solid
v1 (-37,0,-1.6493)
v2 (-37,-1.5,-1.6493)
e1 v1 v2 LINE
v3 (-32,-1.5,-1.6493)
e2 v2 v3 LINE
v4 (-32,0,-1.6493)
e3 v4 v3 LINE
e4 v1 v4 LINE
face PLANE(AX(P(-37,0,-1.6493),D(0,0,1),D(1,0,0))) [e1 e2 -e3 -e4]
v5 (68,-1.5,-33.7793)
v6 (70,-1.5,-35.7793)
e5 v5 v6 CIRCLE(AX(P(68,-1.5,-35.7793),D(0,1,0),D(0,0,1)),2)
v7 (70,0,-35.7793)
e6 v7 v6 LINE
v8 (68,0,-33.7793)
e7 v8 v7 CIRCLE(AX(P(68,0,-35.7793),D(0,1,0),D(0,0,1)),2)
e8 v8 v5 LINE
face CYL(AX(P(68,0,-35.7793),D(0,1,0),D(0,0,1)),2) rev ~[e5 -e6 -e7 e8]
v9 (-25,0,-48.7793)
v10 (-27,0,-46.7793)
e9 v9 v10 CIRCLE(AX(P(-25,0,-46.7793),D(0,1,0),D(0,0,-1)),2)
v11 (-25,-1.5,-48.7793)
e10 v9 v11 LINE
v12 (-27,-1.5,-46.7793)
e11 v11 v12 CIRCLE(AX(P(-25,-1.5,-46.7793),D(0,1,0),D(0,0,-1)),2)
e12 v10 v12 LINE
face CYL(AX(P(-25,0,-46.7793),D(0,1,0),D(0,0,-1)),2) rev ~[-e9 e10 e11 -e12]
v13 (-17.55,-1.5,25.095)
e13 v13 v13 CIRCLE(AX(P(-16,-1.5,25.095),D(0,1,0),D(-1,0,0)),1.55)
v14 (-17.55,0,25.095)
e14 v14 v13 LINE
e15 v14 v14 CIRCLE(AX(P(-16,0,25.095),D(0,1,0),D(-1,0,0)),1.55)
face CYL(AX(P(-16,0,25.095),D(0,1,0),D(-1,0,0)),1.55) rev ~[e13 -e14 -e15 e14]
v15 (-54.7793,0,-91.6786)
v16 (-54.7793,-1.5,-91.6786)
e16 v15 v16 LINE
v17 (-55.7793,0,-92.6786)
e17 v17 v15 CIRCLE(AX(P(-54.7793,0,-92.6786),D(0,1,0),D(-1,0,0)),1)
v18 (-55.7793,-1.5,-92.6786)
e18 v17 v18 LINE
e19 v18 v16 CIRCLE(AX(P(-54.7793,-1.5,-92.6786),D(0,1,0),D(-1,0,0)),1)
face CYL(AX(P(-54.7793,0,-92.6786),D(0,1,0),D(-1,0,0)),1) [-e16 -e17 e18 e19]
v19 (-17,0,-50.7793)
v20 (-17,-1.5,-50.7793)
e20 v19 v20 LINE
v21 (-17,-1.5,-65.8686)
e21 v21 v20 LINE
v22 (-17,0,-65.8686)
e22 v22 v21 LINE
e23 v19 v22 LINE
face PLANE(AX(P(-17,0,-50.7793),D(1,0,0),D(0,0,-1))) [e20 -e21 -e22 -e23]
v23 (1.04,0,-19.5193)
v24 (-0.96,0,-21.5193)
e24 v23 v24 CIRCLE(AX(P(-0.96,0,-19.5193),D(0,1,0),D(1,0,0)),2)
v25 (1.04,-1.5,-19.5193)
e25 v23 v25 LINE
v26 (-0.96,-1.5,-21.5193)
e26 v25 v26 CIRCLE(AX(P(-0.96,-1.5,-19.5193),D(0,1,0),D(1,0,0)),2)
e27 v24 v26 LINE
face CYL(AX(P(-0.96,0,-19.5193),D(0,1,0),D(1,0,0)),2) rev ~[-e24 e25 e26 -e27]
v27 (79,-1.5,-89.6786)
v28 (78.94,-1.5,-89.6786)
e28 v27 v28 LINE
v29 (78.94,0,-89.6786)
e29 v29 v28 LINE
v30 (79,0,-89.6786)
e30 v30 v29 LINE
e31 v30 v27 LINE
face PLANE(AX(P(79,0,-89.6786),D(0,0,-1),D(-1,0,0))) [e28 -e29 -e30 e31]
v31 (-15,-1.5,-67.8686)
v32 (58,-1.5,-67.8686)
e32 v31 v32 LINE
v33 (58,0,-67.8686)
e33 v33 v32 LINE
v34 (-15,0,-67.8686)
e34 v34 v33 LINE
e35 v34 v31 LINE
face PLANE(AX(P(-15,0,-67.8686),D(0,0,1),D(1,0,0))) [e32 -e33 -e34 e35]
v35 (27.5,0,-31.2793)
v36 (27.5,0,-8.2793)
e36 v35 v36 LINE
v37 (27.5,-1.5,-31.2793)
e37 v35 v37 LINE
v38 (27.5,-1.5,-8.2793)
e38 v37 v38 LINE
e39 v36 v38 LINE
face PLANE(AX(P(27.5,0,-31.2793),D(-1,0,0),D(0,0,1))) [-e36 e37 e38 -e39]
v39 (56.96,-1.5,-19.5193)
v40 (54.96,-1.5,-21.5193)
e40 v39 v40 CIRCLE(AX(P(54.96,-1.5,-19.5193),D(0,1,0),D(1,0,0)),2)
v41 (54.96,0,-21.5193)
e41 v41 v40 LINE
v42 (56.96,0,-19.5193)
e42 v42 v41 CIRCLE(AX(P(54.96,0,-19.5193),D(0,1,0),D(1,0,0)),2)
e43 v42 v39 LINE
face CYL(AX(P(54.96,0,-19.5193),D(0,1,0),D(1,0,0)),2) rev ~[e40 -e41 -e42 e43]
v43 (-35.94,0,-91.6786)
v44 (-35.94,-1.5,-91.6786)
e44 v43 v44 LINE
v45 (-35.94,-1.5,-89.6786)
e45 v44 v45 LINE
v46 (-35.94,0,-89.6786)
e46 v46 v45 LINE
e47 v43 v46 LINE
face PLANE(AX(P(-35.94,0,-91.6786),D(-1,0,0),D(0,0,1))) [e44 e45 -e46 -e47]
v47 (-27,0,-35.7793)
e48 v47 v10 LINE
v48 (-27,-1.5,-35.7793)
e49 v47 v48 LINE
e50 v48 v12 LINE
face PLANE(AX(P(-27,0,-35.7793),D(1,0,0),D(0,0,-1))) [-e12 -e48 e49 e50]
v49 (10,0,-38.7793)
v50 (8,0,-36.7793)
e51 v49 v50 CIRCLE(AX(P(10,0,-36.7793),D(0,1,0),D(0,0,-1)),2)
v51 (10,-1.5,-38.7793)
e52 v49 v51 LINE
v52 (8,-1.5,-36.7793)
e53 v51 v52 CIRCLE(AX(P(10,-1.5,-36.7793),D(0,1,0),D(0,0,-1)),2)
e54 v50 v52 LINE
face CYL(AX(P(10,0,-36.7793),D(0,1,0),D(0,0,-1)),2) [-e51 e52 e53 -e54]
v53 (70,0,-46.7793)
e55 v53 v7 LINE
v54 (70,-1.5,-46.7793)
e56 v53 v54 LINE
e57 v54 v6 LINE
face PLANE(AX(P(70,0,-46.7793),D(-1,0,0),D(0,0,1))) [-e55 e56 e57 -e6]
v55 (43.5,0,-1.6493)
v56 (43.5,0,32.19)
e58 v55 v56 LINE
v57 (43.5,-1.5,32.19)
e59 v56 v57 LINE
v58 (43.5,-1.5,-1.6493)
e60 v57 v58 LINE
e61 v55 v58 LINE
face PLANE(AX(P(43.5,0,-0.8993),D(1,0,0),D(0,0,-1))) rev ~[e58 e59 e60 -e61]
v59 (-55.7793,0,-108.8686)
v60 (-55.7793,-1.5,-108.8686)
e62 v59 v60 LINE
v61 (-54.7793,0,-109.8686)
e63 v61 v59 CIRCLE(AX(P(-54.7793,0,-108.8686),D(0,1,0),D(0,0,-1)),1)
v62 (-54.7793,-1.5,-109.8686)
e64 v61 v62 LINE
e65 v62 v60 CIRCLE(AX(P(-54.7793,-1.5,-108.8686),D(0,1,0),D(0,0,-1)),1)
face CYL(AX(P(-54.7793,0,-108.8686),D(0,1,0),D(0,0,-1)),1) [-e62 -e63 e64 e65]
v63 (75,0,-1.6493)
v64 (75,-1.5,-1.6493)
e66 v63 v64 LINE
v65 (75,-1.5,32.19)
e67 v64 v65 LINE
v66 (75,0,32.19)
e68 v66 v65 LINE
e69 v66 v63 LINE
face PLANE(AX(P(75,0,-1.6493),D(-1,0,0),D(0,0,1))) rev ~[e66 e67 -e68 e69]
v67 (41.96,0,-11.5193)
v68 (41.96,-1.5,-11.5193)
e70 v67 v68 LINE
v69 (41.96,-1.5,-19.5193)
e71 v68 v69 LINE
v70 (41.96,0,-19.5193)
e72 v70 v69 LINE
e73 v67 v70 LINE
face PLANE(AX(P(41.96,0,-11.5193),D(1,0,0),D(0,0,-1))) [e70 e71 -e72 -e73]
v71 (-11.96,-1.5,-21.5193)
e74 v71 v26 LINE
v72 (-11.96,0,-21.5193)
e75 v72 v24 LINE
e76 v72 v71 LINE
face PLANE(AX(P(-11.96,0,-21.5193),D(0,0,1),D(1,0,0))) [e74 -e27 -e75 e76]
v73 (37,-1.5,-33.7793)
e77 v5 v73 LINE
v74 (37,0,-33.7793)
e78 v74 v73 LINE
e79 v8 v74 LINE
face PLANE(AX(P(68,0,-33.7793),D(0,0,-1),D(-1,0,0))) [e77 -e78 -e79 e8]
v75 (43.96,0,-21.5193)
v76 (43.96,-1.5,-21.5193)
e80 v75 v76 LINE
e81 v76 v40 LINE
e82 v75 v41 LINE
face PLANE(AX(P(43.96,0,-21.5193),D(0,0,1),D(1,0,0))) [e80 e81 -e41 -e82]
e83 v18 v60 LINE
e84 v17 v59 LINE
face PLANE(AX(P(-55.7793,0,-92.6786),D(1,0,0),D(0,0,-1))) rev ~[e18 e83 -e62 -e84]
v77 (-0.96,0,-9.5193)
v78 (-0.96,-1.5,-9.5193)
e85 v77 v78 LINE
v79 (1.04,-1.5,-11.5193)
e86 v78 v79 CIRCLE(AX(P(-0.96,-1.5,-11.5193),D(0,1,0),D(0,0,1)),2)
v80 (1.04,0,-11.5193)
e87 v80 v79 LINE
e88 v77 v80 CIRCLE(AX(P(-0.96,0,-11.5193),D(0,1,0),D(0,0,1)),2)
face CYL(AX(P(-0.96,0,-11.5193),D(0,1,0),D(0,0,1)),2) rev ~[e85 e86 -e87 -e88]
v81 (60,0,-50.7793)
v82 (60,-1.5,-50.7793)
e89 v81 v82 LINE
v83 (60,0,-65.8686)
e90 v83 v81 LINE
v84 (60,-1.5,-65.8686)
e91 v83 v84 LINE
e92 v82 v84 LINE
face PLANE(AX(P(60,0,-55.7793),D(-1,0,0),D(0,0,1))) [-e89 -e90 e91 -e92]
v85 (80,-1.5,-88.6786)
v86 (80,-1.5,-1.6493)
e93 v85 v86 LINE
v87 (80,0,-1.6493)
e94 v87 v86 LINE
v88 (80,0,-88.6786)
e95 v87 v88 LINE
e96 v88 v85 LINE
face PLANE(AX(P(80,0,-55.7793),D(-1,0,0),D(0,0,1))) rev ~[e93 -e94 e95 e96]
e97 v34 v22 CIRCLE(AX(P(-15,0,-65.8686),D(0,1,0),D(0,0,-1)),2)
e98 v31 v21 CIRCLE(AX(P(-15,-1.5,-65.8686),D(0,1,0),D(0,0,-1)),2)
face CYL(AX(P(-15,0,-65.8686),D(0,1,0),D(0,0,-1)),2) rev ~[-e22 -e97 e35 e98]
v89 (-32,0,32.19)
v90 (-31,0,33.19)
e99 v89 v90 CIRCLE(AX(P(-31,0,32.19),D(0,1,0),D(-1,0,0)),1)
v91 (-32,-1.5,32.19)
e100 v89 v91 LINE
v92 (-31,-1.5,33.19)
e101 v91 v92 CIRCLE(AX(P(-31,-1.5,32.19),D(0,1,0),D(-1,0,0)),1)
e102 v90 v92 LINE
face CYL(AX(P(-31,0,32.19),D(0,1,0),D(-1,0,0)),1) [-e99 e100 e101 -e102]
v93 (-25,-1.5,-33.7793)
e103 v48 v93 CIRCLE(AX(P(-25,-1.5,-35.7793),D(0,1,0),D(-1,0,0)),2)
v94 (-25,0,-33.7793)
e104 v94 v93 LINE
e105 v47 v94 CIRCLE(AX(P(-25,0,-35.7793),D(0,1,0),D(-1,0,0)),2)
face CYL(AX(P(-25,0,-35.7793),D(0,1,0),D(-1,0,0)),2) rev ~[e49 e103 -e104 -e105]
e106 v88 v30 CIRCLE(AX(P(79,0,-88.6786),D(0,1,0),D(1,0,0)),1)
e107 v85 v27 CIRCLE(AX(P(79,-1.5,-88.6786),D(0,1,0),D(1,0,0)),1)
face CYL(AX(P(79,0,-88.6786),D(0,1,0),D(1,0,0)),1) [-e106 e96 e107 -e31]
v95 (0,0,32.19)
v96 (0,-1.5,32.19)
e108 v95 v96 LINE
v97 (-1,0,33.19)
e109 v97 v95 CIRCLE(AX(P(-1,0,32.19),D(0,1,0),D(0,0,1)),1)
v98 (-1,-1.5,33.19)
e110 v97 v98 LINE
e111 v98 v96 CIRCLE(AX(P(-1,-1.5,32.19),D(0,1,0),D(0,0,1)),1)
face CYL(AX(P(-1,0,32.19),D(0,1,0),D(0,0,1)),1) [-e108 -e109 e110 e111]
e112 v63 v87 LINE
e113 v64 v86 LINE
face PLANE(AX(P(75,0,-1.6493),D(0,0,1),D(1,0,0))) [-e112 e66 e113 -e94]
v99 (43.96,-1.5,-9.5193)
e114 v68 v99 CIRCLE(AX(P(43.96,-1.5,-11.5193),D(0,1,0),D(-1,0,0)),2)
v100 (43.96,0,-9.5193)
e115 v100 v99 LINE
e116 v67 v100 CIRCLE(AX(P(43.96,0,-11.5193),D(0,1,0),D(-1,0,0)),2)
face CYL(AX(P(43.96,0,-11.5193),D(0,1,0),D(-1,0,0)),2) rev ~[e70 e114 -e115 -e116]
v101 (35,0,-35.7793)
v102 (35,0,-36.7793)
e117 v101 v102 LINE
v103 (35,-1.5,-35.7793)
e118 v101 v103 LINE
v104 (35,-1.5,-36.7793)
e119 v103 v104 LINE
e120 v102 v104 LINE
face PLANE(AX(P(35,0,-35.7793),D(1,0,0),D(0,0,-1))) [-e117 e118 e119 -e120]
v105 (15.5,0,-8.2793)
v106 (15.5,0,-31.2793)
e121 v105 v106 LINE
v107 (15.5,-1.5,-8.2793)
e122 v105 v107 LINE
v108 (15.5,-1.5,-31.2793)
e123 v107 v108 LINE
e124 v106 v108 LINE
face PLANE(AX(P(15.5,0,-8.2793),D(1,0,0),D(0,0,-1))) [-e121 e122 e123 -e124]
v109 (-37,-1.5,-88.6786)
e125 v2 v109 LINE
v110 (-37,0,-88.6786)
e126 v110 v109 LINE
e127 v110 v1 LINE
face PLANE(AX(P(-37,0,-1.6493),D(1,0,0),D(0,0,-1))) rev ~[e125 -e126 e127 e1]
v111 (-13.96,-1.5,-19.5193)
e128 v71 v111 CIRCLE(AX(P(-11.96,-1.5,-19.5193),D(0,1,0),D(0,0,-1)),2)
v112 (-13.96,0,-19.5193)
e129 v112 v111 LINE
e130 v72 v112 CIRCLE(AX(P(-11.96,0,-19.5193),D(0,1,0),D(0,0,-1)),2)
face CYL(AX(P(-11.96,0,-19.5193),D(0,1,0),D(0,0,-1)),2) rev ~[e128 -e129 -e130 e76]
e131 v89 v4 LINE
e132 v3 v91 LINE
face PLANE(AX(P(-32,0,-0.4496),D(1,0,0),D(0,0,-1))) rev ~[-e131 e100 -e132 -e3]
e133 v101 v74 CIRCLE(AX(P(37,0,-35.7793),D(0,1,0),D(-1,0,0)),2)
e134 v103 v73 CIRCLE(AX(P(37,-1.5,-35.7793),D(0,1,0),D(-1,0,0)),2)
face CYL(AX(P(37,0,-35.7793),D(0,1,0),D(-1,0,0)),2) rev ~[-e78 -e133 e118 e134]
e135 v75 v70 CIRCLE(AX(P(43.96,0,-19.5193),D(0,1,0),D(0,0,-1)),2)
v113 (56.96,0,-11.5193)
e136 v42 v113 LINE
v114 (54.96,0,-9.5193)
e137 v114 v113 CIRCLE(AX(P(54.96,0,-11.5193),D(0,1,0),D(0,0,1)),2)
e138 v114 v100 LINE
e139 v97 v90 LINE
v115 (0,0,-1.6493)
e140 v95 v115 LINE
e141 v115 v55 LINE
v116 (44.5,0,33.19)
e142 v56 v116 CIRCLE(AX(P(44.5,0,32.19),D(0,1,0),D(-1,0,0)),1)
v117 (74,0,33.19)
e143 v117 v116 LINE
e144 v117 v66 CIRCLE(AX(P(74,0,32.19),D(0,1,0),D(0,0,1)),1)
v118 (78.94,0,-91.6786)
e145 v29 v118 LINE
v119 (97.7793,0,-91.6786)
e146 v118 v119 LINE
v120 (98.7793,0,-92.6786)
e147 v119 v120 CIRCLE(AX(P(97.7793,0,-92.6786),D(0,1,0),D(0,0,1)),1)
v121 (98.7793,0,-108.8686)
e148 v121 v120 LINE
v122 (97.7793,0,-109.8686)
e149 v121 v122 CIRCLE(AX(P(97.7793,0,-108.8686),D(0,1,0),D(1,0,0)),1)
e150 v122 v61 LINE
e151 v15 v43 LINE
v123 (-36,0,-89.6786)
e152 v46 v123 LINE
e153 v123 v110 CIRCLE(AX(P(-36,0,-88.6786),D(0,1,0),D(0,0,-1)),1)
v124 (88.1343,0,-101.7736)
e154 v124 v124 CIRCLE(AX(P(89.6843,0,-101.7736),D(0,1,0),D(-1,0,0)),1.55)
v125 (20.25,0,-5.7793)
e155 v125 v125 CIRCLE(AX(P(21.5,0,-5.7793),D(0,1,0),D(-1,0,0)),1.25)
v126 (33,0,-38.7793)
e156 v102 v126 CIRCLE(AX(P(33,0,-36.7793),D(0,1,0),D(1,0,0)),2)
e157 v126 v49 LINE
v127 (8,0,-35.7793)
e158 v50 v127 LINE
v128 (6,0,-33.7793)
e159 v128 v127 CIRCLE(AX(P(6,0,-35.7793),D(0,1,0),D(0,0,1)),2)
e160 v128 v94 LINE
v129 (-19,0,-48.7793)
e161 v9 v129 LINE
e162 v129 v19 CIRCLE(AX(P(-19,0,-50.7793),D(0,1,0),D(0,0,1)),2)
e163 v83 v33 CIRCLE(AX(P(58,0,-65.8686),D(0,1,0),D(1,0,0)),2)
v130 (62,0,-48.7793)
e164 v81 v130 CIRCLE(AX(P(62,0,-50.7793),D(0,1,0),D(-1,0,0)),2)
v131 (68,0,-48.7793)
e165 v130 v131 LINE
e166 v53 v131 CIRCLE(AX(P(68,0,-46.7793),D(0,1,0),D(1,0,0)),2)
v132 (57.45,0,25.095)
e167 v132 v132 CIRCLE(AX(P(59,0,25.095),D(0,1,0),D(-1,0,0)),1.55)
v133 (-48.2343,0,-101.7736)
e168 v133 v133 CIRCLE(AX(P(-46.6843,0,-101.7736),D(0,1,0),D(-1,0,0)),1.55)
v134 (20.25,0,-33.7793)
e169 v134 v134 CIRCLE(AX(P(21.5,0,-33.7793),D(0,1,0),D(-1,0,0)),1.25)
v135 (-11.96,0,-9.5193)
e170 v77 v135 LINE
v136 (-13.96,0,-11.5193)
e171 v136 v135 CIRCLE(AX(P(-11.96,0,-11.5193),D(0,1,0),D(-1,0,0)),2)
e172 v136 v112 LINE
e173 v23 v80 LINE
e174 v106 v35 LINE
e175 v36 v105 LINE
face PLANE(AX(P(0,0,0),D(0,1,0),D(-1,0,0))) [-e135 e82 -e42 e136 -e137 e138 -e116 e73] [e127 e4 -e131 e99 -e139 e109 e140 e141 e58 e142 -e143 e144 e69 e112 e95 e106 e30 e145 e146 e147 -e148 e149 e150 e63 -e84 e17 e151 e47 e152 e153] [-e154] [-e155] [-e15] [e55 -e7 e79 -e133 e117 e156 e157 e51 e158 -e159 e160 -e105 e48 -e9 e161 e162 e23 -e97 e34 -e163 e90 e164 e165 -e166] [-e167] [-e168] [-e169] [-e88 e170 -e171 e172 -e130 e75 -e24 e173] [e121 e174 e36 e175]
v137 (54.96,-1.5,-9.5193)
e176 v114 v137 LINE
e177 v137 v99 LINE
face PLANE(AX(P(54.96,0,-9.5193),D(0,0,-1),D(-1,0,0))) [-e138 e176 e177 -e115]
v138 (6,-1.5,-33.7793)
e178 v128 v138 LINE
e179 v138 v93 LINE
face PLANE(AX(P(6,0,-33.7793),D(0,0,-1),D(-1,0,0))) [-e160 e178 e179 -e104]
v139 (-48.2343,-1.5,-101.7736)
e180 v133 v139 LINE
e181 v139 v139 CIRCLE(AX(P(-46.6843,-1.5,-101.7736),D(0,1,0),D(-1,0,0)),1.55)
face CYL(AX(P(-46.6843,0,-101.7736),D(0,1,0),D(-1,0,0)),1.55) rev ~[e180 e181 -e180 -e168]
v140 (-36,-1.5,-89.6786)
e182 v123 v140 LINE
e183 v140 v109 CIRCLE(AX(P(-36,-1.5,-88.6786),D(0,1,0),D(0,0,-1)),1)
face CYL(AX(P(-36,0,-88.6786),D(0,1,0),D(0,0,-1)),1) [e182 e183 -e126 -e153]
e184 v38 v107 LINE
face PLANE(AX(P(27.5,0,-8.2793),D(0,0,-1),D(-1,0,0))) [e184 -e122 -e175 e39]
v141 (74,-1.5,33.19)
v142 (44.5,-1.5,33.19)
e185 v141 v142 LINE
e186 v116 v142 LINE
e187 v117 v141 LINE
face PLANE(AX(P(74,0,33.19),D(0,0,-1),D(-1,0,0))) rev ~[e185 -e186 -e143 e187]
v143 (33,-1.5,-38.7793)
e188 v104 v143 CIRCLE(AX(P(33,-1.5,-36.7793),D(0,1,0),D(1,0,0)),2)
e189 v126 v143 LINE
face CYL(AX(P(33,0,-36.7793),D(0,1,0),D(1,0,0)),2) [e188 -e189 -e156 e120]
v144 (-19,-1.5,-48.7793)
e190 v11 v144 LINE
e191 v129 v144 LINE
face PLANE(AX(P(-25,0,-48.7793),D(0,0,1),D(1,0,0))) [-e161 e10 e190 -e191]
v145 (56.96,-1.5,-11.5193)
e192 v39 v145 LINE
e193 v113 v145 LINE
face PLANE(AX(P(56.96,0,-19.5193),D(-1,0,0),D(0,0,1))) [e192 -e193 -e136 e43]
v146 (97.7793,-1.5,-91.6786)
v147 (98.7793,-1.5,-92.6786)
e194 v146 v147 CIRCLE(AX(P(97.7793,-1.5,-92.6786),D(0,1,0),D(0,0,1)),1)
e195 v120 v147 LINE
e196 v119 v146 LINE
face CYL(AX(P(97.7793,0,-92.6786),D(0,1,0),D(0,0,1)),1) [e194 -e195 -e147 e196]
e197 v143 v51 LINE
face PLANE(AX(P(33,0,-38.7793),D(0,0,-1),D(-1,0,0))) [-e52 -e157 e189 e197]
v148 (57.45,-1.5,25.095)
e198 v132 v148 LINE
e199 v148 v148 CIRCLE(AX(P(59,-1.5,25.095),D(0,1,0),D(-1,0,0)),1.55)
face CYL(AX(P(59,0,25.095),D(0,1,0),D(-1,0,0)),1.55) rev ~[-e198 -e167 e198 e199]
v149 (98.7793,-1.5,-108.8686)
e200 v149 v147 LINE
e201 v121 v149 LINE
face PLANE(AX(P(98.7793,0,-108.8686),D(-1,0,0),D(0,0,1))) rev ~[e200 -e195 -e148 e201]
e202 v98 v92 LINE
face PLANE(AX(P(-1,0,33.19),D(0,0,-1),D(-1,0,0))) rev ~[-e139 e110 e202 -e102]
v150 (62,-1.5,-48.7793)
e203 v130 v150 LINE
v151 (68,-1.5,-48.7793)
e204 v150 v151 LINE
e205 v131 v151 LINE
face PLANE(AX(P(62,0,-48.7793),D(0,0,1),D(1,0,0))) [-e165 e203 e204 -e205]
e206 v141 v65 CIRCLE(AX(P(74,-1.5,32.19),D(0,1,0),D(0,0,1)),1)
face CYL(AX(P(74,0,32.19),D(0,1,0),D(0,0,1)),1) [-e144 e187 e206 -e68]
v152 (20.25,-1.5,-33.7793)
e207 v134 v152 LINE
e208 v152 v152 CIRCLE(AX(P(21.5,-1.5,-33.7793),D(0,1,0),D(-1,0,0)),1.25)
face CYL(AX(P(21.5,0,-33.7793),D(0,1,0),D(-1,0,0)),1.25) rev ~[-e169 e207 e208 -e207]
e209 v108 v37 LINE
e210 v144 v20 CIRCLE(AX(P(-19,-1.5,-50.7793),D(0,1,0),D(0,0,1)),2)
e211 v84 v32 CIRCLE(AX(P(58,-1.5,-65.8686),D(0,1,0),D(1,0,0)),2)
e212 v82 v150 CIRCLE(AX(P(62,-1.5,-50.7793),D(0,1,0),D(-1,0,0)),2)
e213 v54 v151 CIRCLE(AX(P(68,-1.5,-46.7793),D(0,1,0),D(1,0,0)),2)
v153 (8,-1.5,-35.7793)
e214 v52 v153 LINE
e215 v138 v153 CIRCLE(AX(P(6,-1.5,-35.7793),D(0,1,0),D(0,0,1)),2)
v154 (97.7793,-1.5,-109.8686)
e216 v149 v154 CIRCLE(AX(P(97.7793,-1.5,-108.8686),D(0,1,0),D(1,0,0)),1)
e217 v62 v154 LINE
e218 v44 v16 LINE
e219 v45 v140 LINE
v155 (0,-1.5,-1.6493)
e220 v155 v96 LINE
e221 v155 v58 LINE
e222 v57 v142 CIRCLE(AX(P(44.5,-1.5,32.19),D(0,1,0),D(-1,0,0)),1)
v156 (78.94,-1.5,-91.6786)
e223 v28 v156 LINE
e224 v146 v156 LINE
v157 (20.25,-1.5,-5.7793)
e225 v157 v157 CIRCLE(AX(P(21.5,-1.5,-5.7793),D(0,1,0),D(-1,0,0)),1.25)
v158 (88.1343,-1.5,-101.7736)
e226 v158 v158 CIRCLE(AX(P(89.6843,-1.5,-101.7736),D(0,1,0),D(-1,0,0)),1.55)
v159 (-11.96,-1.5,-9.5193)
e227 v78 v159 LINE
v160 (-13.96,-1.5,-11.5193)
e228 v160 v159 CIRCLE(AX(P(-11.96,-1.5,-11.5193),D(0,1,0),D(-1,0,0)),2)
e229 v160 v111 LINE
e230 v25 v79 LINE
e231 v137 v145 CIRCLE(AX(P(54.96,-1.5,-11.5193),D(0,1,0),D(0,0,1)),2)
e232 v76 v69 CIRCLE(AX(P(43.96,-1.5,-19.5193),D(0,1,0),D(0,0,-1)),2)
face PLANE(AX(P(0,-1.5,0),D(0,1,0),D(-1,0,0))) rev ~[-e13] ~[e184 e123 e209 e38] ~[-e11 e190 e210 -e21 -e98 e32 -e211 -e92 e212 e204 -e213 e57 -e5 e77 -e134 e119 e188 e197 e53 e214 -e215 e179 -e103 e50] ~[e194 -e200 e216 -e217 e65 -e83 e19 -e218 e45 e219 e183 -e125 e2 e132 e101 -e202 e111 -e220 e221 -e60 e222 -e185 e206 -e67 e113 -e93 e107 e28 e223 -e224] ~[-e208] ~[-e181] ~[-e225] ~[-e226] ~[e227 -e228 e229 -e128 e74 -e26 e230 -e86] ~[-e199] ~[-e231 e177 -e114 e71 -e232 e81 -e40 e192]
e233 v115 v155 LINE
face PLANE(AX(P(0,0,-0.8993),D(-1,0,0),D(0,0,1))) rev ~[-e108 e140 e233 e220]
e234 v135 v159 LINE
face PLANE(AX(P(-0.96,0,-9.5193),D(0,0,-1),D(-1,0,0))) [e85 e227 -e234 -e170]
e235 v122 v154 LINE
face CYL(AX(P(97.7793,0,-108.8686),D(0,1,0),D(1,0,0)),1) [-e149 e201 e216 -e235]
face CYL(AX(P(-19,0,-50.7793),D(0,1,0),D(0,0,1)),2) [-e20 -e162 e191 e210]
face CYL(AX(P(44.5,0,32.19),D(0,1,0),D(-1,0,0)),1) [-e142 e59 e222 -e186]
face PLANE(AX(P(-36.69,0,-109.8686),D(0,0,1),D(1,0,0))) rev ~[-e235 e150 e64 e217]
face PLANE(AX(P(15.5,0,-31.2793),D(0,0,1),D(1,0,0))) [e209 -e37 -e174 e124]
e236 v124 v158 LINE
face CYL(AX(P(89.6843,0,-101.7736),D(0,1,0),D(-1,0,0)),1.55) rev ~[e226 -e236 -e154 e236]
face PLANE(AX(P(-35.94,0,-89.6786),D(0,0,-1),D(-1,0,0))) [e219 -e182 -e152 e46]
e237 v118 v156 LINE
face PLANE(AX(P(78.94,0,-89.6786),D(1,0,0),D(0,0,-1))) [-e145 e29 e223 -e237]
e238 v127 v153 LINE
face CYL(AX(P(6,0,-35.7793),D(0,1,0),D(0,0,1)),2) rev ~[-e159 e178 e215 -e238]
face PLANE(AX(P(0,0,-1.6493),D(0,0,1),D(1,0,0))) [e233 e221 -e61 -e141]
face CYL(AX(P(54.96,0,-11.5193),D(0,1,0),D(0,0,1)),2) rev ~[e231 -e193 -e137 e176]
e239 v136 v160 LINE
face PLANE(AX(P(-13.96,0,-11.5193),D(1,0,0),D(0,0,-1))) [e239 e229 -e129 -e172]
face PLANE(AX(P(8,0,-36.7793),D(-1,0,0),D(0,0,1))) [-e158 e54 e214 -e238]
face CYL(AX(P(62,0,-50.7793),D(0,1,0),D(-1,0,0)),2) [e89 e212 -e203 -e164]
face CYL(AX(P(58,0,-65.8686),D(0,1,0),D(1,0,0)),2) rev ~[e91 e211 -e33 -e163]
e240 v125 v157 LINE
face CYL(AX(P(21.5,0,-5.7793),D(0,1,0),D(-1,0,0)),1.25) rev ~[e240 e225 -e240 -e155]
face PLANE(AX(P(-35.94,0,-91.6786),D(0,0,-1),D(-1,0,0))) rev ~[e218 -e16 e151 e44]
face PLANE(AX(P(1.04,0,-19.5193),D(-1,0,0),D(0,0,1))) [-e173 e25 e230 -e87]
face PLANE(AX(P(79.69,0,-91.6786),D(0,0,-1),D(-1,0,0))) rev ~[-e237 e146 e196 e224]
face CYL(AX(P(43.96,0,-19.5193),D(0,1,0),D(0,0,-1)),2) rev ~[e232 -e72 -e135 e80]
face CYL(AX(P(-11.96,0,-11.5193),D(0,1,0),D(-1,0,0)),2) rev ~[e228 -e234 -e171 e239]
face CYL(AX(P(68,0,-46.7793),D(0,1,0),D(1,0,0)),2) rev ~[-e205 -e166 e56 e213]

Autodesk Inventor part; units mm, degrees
ref_plane "YZ Plane" through (0, 0, 0) normal (1, 0, 0) x (0, 1, 0)
ref_plane "XZ Plane" through (0, 0, 0) normal (0, 1, 0) x (-1, 0, 0)
ref_plane "XY Plane" through (0, 0, 0) normal (0, 0, 1) x (1, 0, 0)
sketch "Sketch1" plane through (0, 0, 0) normal (0, 1, 0) x (-1, 0, 0)
  line L0 (32, -0.4496) -> (0, -0.4496)
  line L1 (-80.1396, -91.6786) -> (-80.1396, -109.8686)
  line L2 (37, -56.2289) -> (-80, -56.2289)
  line L3 (-43.5, -0.4496) -> (-75, -0.4496)
  line L4 (37.1396, -109.8686) -> (37.1396, -91.6786)
  arc A0 (-60, -65.8686) -> (-58, -67.8686) centre (-58, -65.8686) ccw
  line L5 (15, -67.8686) -> (-58, -67.8686)
  arc A1 (15, -67.8686) -> (17, -65.8686) centre (15, -65.8686) ccw
  line L6 (17, -50.7793) -> (17, -65.8686)
  arc A2 (27, -35.7793) -> (25, -33.7793) centre (25, -35.7793) ccw
  line L7 (-6, -33.7793) -> (25, -33.7793)
  arc A3 (-6, -33.7793) -> (-8, -35.7793) centre (-6, -35.7793) ccw
  line L8 (-8, -36.7793) -> (-8, -35.7793)
  arc A4 (-10, -38.7793) -> (-8, -36.7793) centre (-10, -36.7793) ccw
  arc A5 (-35, -36.7793) -> (-33, -38.7793) centre (-33, -36.7793) ccw
  line L9 (-35, -35.7793) -> (-35, -36.7793)
  arc A6 (-35, -35.7793) -> (-37, -33.7793) centre (-37, -35.7793) ccw
  line L10 (-68, -33.7793) -> (-37, -33.7793)
  arc A7 (-68, -33.7793) -> (-70, -35.7793) centre (-68, -35.7793) ccw
  line L11 (-70, -46.7793) -> (-70, -35.7793)
  line L12 (-27.5, -31.2793) -> (-27.5, -8.2793)
  line L13 (-15.5, -31.2793) -> (-27.5, -31.2793)
  line L14 (-15.5, -8.2793) -> (-15.5, -31.2793)
  line L15 (-27.5, -8.2793) -> (-15.5, -8.2793)
  circle A8 centre (-21.5, -5.7793) radius 1.25
  circle A9 centre (-21.5, -33.7793) radius 1.25
  arc A10 (-1.04, -19.5193) -> (0.96, -21.5193) centre (0.96, -19.5193) ccw
  line L16 (11.96, -21.5193) -> (0.96, -21.5193)
  arc A11 (0.96, -9.5193) -> (-1.04, -11.5193) centre (0.96, -11.5193) ccw
  line L17 (-1.04, -19.5193) -> (-1.04, -11.5193)
  arc A12 (11.96, -21.5193) -> (13.96, -19.5193) centre (11.96, -19.5193) ccw
  line L18 (13.96, -11.5193) -> (13.96, -19.5193)
  arc A13 (13.96, -11.5193) -> (11.96, -9.5193) centre (11.96, -11.5193) ccw
  line L19 (0.96, -9.5193) -> (11.96, -9.5193)
  arc A14 (-43.96, -21.5193) -> (-41.96, -19.5193) centre (-43.96, -19.5193) ccw
  line L20 (-41.96, -11.5193) -> (-41.96, -19.5193)
  arc A15 (-56.96, -19.5193) -> (-54.96, -21.5193) centre (-54.96, -19.5193) ccw
  line L21 (-43.96, -21.5193) -> (-54.96, -21.5193)
  arc A16 (-41.96, -11.5193) -> (-43.96, -9.5193) centre (-43.96, -11.5193) ccw
  line L22 (-54.96, -9.5193) -> (-43.96, -9.5193)
  arc A17 (-54.96, -9.5193) -> (-56.96, -11.5193) centre (-54.96, -11.5193) ccw
  line L23 (-56.96, -19.5193) -> (-56.96, -11.5193)
  arc A18 (25, -48.7793) -> (27, -46.7793) centre (25, -46.7793) ccw
  line L24 (27, -35.7793) -> (27, -46.7793)
  arc A19 (19, -48.7793) -> (17, -50.7793) centre (19, -50.7793) ccw
  arc A20 (-60, -50.7793) -> (-62, -48.7793) centre (-62, -50.7793) ccw
  line L25 (-60, -65.8686) -> (-60, -50.7793)
  arc A21 (-70, -46.7793) -> (-68, -48.7793) centre (-68, -46.7793) ccw
  line L26 (-62, -48.7793) -> (-68, -48.7793)
  line L27 (25, -48.7793) -> (19, -48.7793)
  line L28 (-33, -38.7793) -> (-10, -38.7793)
  circle A22 centre (-59, 25.095) radius 1.55
  circle A23 centre (16, 25.095) radius 1.55
  circle A24 centre (-89.6843, -101.7736) radius 1.55
  circle A25 centre (46.6843, -101.7736) radius 1.55
  arc A26 (-80, -88.6786) -> (-79, -89.6786) centre (-79, -88.6786) ccw
  arc A27 (36, -89.6786) -> (37, -88.6786) centre (36, -88.6786) ccw
  line L29 (35.94, -89.6786) -> (36, -89.6786)
  arc A28 (55.7793, -92.6786) -> (54.7793, -91.6786) centre (54.7793, -92.6786) ccw
  arc A29 (54.7793, -109.8686) -> (55.7793, -108.8686) centre (54.7793, -108.8686) ccw
  line L30 (54.7793, -109.8686) -> (-97.7793, -109.8686)
  arc A30 (-98.7793, -108.8686) -> (-97.7793, -109.8686) centre (-97.7793, -108.8686) ccw
  arc A31 (-97.7793, -91.6786) -> (-98.7793, -92.6786) centre (-97.7793, -92.6786) ccw
  line L31 (-97.7793, -91.6786) -> (-78.94, -91.6786)
  arc A32 (1, 33.19) -> (0, 32.19) centre (1, 32.19) ccw
  arc A33 (32, 32.19) -> (31, 33.19) centre (31, 32.19) ccw
  arc A34 (-74, 33.19) -> (-75, 32.19) centre (-74, 32.19) ccw
  arc A35 (-43.5, 32.19) -> (-44.5, 33.19) centre (-44.5, 32.19) ccw
  line L32 (-43.5, 32.19) -> (-43.5, -1.6493)
  line L33 (-74, 33.19) -> (-44.5, 33.19)
  line L34 (-75, -1.6493) -> (-75, 32.19)
  line L35 (-75, -1.6493) -> (-80, -1.6493)
  line L36 (-80, -88.6786) -> (-80, -1.6493)
  line L37 (1, 33.19) -> (31, 33.19)
  line L38 (32, 32.19) -> (32, -1.6493)
  line L39 (37, -1.6493) -> (32, -1.6493)
  line L40 (0, -1.6493) -> (0, 32.19)
  line L41 (0, -1.6493) -> (-43.5, -1.6493)
  line L42 (37, -1.6493) -> (37, -88.6786)
  line L43 (-98.7793, -108.8686) -> (-98.7793, -92.6786)
  line L44 (55.7793, -92.6786) -> (55.7793, -108.8686)
  line L45 (35.94, -91.6786) -> (54.7793, -91.6786)
  line L46 (35.94, -91.6786) -> (35.94, -89.6786)
  line L47 (-79, -89.6786) -> (-78.94, -89.6786)
  line L48 (-78.94, -89.6786) -> (-78.94, -91.6786)
  line L49 (-80.5893, -109.8686) -> (-80.5893, -91.6786)
  line L50 (37.5893, -91.6786) -> (37.5893, -109.8686)
  line L51 (-79.69, -91.6786) -> (-79.69, -109.8686)
  line L52 (36.69, -109.8686) -> (36.69, -91.6786)
  line L53 (-75, 0) -> (-43.5, 0)
  line L54 (37, -56.6786) -> (17, -56.6786)
  line L55 (-60, -56.6786) -> (-80, -56.6786)
  line L56 (-43.5, -0.8993) -> (-75, -0.8993)
  line L57 (17, -55.7793) -> (37, -55.7793)
  line L58 (-80, -55.7793) -> (-60, -55.7793)
  line L59 (32, -0.8993) -> (0, -0.8993)
  line L60 (0, 0) -> (32, 0)
  point P0 (0, 0)
extrude "Plate1" add sketch "Sketch1" against normal blind 1.5 contours L38 L59 L40 L0 | L0 L40 L60 L38 | L60 L40 A32 L37 A33 L38 | L38 L39 L42 L57 L6 A19 L27 A18 L24 A2 L7 A3 L8 A4 L28 A5 L9 A6 L10 A7 L11 A21 L26 A20 L25 L58 L36 L35 L34 L56 L32 L41 L40 L59 | L42 L2 L6 L57 | L56 L34 L3 L32 | L42 L54 L6 L2 | L3 L34 L53 L32 | L42 A27 L29 L46 L45 L52 L30 L51 L31 L48 L47 A26 L36 L55 L25 A0 L5 A1 L6 L54 | L53 L34 A34 L33 A35 L32 | L25 L55 L36 L2 | L2 L36 L58 L25 | L45 L4 L30 L52 | L45 L50 L30 L4 | L45 A28 L44 A29 L30 L50 | L30 L1 L31 L51 | L30 L49 L31 L1 | L30 A30 L43 A31 L31 L49
equation "\"d0\" = Thickness"
equation "\"BendReliefWidth\" = Thickness"
equation "\"BendReliefDepth\" = 0.5 * Thickness"
equation "\"CornerReliefSize\" = 4 * Thickness"
equation "\"MinimumRemnant\" = 2 * Thickness"
equation "\"TransitionRadius\" = BendRadius"
equation "\"JacobiRadiusSize\" = BendRadius"
equation "\"GapSize\" = Thickness"
equation "\"Thickness\" = 1.5"
equation "\"BendRadius\" = 0.31"
properties part number "body_top_frame2_cam" material "Aluminum 6061-AHC"
